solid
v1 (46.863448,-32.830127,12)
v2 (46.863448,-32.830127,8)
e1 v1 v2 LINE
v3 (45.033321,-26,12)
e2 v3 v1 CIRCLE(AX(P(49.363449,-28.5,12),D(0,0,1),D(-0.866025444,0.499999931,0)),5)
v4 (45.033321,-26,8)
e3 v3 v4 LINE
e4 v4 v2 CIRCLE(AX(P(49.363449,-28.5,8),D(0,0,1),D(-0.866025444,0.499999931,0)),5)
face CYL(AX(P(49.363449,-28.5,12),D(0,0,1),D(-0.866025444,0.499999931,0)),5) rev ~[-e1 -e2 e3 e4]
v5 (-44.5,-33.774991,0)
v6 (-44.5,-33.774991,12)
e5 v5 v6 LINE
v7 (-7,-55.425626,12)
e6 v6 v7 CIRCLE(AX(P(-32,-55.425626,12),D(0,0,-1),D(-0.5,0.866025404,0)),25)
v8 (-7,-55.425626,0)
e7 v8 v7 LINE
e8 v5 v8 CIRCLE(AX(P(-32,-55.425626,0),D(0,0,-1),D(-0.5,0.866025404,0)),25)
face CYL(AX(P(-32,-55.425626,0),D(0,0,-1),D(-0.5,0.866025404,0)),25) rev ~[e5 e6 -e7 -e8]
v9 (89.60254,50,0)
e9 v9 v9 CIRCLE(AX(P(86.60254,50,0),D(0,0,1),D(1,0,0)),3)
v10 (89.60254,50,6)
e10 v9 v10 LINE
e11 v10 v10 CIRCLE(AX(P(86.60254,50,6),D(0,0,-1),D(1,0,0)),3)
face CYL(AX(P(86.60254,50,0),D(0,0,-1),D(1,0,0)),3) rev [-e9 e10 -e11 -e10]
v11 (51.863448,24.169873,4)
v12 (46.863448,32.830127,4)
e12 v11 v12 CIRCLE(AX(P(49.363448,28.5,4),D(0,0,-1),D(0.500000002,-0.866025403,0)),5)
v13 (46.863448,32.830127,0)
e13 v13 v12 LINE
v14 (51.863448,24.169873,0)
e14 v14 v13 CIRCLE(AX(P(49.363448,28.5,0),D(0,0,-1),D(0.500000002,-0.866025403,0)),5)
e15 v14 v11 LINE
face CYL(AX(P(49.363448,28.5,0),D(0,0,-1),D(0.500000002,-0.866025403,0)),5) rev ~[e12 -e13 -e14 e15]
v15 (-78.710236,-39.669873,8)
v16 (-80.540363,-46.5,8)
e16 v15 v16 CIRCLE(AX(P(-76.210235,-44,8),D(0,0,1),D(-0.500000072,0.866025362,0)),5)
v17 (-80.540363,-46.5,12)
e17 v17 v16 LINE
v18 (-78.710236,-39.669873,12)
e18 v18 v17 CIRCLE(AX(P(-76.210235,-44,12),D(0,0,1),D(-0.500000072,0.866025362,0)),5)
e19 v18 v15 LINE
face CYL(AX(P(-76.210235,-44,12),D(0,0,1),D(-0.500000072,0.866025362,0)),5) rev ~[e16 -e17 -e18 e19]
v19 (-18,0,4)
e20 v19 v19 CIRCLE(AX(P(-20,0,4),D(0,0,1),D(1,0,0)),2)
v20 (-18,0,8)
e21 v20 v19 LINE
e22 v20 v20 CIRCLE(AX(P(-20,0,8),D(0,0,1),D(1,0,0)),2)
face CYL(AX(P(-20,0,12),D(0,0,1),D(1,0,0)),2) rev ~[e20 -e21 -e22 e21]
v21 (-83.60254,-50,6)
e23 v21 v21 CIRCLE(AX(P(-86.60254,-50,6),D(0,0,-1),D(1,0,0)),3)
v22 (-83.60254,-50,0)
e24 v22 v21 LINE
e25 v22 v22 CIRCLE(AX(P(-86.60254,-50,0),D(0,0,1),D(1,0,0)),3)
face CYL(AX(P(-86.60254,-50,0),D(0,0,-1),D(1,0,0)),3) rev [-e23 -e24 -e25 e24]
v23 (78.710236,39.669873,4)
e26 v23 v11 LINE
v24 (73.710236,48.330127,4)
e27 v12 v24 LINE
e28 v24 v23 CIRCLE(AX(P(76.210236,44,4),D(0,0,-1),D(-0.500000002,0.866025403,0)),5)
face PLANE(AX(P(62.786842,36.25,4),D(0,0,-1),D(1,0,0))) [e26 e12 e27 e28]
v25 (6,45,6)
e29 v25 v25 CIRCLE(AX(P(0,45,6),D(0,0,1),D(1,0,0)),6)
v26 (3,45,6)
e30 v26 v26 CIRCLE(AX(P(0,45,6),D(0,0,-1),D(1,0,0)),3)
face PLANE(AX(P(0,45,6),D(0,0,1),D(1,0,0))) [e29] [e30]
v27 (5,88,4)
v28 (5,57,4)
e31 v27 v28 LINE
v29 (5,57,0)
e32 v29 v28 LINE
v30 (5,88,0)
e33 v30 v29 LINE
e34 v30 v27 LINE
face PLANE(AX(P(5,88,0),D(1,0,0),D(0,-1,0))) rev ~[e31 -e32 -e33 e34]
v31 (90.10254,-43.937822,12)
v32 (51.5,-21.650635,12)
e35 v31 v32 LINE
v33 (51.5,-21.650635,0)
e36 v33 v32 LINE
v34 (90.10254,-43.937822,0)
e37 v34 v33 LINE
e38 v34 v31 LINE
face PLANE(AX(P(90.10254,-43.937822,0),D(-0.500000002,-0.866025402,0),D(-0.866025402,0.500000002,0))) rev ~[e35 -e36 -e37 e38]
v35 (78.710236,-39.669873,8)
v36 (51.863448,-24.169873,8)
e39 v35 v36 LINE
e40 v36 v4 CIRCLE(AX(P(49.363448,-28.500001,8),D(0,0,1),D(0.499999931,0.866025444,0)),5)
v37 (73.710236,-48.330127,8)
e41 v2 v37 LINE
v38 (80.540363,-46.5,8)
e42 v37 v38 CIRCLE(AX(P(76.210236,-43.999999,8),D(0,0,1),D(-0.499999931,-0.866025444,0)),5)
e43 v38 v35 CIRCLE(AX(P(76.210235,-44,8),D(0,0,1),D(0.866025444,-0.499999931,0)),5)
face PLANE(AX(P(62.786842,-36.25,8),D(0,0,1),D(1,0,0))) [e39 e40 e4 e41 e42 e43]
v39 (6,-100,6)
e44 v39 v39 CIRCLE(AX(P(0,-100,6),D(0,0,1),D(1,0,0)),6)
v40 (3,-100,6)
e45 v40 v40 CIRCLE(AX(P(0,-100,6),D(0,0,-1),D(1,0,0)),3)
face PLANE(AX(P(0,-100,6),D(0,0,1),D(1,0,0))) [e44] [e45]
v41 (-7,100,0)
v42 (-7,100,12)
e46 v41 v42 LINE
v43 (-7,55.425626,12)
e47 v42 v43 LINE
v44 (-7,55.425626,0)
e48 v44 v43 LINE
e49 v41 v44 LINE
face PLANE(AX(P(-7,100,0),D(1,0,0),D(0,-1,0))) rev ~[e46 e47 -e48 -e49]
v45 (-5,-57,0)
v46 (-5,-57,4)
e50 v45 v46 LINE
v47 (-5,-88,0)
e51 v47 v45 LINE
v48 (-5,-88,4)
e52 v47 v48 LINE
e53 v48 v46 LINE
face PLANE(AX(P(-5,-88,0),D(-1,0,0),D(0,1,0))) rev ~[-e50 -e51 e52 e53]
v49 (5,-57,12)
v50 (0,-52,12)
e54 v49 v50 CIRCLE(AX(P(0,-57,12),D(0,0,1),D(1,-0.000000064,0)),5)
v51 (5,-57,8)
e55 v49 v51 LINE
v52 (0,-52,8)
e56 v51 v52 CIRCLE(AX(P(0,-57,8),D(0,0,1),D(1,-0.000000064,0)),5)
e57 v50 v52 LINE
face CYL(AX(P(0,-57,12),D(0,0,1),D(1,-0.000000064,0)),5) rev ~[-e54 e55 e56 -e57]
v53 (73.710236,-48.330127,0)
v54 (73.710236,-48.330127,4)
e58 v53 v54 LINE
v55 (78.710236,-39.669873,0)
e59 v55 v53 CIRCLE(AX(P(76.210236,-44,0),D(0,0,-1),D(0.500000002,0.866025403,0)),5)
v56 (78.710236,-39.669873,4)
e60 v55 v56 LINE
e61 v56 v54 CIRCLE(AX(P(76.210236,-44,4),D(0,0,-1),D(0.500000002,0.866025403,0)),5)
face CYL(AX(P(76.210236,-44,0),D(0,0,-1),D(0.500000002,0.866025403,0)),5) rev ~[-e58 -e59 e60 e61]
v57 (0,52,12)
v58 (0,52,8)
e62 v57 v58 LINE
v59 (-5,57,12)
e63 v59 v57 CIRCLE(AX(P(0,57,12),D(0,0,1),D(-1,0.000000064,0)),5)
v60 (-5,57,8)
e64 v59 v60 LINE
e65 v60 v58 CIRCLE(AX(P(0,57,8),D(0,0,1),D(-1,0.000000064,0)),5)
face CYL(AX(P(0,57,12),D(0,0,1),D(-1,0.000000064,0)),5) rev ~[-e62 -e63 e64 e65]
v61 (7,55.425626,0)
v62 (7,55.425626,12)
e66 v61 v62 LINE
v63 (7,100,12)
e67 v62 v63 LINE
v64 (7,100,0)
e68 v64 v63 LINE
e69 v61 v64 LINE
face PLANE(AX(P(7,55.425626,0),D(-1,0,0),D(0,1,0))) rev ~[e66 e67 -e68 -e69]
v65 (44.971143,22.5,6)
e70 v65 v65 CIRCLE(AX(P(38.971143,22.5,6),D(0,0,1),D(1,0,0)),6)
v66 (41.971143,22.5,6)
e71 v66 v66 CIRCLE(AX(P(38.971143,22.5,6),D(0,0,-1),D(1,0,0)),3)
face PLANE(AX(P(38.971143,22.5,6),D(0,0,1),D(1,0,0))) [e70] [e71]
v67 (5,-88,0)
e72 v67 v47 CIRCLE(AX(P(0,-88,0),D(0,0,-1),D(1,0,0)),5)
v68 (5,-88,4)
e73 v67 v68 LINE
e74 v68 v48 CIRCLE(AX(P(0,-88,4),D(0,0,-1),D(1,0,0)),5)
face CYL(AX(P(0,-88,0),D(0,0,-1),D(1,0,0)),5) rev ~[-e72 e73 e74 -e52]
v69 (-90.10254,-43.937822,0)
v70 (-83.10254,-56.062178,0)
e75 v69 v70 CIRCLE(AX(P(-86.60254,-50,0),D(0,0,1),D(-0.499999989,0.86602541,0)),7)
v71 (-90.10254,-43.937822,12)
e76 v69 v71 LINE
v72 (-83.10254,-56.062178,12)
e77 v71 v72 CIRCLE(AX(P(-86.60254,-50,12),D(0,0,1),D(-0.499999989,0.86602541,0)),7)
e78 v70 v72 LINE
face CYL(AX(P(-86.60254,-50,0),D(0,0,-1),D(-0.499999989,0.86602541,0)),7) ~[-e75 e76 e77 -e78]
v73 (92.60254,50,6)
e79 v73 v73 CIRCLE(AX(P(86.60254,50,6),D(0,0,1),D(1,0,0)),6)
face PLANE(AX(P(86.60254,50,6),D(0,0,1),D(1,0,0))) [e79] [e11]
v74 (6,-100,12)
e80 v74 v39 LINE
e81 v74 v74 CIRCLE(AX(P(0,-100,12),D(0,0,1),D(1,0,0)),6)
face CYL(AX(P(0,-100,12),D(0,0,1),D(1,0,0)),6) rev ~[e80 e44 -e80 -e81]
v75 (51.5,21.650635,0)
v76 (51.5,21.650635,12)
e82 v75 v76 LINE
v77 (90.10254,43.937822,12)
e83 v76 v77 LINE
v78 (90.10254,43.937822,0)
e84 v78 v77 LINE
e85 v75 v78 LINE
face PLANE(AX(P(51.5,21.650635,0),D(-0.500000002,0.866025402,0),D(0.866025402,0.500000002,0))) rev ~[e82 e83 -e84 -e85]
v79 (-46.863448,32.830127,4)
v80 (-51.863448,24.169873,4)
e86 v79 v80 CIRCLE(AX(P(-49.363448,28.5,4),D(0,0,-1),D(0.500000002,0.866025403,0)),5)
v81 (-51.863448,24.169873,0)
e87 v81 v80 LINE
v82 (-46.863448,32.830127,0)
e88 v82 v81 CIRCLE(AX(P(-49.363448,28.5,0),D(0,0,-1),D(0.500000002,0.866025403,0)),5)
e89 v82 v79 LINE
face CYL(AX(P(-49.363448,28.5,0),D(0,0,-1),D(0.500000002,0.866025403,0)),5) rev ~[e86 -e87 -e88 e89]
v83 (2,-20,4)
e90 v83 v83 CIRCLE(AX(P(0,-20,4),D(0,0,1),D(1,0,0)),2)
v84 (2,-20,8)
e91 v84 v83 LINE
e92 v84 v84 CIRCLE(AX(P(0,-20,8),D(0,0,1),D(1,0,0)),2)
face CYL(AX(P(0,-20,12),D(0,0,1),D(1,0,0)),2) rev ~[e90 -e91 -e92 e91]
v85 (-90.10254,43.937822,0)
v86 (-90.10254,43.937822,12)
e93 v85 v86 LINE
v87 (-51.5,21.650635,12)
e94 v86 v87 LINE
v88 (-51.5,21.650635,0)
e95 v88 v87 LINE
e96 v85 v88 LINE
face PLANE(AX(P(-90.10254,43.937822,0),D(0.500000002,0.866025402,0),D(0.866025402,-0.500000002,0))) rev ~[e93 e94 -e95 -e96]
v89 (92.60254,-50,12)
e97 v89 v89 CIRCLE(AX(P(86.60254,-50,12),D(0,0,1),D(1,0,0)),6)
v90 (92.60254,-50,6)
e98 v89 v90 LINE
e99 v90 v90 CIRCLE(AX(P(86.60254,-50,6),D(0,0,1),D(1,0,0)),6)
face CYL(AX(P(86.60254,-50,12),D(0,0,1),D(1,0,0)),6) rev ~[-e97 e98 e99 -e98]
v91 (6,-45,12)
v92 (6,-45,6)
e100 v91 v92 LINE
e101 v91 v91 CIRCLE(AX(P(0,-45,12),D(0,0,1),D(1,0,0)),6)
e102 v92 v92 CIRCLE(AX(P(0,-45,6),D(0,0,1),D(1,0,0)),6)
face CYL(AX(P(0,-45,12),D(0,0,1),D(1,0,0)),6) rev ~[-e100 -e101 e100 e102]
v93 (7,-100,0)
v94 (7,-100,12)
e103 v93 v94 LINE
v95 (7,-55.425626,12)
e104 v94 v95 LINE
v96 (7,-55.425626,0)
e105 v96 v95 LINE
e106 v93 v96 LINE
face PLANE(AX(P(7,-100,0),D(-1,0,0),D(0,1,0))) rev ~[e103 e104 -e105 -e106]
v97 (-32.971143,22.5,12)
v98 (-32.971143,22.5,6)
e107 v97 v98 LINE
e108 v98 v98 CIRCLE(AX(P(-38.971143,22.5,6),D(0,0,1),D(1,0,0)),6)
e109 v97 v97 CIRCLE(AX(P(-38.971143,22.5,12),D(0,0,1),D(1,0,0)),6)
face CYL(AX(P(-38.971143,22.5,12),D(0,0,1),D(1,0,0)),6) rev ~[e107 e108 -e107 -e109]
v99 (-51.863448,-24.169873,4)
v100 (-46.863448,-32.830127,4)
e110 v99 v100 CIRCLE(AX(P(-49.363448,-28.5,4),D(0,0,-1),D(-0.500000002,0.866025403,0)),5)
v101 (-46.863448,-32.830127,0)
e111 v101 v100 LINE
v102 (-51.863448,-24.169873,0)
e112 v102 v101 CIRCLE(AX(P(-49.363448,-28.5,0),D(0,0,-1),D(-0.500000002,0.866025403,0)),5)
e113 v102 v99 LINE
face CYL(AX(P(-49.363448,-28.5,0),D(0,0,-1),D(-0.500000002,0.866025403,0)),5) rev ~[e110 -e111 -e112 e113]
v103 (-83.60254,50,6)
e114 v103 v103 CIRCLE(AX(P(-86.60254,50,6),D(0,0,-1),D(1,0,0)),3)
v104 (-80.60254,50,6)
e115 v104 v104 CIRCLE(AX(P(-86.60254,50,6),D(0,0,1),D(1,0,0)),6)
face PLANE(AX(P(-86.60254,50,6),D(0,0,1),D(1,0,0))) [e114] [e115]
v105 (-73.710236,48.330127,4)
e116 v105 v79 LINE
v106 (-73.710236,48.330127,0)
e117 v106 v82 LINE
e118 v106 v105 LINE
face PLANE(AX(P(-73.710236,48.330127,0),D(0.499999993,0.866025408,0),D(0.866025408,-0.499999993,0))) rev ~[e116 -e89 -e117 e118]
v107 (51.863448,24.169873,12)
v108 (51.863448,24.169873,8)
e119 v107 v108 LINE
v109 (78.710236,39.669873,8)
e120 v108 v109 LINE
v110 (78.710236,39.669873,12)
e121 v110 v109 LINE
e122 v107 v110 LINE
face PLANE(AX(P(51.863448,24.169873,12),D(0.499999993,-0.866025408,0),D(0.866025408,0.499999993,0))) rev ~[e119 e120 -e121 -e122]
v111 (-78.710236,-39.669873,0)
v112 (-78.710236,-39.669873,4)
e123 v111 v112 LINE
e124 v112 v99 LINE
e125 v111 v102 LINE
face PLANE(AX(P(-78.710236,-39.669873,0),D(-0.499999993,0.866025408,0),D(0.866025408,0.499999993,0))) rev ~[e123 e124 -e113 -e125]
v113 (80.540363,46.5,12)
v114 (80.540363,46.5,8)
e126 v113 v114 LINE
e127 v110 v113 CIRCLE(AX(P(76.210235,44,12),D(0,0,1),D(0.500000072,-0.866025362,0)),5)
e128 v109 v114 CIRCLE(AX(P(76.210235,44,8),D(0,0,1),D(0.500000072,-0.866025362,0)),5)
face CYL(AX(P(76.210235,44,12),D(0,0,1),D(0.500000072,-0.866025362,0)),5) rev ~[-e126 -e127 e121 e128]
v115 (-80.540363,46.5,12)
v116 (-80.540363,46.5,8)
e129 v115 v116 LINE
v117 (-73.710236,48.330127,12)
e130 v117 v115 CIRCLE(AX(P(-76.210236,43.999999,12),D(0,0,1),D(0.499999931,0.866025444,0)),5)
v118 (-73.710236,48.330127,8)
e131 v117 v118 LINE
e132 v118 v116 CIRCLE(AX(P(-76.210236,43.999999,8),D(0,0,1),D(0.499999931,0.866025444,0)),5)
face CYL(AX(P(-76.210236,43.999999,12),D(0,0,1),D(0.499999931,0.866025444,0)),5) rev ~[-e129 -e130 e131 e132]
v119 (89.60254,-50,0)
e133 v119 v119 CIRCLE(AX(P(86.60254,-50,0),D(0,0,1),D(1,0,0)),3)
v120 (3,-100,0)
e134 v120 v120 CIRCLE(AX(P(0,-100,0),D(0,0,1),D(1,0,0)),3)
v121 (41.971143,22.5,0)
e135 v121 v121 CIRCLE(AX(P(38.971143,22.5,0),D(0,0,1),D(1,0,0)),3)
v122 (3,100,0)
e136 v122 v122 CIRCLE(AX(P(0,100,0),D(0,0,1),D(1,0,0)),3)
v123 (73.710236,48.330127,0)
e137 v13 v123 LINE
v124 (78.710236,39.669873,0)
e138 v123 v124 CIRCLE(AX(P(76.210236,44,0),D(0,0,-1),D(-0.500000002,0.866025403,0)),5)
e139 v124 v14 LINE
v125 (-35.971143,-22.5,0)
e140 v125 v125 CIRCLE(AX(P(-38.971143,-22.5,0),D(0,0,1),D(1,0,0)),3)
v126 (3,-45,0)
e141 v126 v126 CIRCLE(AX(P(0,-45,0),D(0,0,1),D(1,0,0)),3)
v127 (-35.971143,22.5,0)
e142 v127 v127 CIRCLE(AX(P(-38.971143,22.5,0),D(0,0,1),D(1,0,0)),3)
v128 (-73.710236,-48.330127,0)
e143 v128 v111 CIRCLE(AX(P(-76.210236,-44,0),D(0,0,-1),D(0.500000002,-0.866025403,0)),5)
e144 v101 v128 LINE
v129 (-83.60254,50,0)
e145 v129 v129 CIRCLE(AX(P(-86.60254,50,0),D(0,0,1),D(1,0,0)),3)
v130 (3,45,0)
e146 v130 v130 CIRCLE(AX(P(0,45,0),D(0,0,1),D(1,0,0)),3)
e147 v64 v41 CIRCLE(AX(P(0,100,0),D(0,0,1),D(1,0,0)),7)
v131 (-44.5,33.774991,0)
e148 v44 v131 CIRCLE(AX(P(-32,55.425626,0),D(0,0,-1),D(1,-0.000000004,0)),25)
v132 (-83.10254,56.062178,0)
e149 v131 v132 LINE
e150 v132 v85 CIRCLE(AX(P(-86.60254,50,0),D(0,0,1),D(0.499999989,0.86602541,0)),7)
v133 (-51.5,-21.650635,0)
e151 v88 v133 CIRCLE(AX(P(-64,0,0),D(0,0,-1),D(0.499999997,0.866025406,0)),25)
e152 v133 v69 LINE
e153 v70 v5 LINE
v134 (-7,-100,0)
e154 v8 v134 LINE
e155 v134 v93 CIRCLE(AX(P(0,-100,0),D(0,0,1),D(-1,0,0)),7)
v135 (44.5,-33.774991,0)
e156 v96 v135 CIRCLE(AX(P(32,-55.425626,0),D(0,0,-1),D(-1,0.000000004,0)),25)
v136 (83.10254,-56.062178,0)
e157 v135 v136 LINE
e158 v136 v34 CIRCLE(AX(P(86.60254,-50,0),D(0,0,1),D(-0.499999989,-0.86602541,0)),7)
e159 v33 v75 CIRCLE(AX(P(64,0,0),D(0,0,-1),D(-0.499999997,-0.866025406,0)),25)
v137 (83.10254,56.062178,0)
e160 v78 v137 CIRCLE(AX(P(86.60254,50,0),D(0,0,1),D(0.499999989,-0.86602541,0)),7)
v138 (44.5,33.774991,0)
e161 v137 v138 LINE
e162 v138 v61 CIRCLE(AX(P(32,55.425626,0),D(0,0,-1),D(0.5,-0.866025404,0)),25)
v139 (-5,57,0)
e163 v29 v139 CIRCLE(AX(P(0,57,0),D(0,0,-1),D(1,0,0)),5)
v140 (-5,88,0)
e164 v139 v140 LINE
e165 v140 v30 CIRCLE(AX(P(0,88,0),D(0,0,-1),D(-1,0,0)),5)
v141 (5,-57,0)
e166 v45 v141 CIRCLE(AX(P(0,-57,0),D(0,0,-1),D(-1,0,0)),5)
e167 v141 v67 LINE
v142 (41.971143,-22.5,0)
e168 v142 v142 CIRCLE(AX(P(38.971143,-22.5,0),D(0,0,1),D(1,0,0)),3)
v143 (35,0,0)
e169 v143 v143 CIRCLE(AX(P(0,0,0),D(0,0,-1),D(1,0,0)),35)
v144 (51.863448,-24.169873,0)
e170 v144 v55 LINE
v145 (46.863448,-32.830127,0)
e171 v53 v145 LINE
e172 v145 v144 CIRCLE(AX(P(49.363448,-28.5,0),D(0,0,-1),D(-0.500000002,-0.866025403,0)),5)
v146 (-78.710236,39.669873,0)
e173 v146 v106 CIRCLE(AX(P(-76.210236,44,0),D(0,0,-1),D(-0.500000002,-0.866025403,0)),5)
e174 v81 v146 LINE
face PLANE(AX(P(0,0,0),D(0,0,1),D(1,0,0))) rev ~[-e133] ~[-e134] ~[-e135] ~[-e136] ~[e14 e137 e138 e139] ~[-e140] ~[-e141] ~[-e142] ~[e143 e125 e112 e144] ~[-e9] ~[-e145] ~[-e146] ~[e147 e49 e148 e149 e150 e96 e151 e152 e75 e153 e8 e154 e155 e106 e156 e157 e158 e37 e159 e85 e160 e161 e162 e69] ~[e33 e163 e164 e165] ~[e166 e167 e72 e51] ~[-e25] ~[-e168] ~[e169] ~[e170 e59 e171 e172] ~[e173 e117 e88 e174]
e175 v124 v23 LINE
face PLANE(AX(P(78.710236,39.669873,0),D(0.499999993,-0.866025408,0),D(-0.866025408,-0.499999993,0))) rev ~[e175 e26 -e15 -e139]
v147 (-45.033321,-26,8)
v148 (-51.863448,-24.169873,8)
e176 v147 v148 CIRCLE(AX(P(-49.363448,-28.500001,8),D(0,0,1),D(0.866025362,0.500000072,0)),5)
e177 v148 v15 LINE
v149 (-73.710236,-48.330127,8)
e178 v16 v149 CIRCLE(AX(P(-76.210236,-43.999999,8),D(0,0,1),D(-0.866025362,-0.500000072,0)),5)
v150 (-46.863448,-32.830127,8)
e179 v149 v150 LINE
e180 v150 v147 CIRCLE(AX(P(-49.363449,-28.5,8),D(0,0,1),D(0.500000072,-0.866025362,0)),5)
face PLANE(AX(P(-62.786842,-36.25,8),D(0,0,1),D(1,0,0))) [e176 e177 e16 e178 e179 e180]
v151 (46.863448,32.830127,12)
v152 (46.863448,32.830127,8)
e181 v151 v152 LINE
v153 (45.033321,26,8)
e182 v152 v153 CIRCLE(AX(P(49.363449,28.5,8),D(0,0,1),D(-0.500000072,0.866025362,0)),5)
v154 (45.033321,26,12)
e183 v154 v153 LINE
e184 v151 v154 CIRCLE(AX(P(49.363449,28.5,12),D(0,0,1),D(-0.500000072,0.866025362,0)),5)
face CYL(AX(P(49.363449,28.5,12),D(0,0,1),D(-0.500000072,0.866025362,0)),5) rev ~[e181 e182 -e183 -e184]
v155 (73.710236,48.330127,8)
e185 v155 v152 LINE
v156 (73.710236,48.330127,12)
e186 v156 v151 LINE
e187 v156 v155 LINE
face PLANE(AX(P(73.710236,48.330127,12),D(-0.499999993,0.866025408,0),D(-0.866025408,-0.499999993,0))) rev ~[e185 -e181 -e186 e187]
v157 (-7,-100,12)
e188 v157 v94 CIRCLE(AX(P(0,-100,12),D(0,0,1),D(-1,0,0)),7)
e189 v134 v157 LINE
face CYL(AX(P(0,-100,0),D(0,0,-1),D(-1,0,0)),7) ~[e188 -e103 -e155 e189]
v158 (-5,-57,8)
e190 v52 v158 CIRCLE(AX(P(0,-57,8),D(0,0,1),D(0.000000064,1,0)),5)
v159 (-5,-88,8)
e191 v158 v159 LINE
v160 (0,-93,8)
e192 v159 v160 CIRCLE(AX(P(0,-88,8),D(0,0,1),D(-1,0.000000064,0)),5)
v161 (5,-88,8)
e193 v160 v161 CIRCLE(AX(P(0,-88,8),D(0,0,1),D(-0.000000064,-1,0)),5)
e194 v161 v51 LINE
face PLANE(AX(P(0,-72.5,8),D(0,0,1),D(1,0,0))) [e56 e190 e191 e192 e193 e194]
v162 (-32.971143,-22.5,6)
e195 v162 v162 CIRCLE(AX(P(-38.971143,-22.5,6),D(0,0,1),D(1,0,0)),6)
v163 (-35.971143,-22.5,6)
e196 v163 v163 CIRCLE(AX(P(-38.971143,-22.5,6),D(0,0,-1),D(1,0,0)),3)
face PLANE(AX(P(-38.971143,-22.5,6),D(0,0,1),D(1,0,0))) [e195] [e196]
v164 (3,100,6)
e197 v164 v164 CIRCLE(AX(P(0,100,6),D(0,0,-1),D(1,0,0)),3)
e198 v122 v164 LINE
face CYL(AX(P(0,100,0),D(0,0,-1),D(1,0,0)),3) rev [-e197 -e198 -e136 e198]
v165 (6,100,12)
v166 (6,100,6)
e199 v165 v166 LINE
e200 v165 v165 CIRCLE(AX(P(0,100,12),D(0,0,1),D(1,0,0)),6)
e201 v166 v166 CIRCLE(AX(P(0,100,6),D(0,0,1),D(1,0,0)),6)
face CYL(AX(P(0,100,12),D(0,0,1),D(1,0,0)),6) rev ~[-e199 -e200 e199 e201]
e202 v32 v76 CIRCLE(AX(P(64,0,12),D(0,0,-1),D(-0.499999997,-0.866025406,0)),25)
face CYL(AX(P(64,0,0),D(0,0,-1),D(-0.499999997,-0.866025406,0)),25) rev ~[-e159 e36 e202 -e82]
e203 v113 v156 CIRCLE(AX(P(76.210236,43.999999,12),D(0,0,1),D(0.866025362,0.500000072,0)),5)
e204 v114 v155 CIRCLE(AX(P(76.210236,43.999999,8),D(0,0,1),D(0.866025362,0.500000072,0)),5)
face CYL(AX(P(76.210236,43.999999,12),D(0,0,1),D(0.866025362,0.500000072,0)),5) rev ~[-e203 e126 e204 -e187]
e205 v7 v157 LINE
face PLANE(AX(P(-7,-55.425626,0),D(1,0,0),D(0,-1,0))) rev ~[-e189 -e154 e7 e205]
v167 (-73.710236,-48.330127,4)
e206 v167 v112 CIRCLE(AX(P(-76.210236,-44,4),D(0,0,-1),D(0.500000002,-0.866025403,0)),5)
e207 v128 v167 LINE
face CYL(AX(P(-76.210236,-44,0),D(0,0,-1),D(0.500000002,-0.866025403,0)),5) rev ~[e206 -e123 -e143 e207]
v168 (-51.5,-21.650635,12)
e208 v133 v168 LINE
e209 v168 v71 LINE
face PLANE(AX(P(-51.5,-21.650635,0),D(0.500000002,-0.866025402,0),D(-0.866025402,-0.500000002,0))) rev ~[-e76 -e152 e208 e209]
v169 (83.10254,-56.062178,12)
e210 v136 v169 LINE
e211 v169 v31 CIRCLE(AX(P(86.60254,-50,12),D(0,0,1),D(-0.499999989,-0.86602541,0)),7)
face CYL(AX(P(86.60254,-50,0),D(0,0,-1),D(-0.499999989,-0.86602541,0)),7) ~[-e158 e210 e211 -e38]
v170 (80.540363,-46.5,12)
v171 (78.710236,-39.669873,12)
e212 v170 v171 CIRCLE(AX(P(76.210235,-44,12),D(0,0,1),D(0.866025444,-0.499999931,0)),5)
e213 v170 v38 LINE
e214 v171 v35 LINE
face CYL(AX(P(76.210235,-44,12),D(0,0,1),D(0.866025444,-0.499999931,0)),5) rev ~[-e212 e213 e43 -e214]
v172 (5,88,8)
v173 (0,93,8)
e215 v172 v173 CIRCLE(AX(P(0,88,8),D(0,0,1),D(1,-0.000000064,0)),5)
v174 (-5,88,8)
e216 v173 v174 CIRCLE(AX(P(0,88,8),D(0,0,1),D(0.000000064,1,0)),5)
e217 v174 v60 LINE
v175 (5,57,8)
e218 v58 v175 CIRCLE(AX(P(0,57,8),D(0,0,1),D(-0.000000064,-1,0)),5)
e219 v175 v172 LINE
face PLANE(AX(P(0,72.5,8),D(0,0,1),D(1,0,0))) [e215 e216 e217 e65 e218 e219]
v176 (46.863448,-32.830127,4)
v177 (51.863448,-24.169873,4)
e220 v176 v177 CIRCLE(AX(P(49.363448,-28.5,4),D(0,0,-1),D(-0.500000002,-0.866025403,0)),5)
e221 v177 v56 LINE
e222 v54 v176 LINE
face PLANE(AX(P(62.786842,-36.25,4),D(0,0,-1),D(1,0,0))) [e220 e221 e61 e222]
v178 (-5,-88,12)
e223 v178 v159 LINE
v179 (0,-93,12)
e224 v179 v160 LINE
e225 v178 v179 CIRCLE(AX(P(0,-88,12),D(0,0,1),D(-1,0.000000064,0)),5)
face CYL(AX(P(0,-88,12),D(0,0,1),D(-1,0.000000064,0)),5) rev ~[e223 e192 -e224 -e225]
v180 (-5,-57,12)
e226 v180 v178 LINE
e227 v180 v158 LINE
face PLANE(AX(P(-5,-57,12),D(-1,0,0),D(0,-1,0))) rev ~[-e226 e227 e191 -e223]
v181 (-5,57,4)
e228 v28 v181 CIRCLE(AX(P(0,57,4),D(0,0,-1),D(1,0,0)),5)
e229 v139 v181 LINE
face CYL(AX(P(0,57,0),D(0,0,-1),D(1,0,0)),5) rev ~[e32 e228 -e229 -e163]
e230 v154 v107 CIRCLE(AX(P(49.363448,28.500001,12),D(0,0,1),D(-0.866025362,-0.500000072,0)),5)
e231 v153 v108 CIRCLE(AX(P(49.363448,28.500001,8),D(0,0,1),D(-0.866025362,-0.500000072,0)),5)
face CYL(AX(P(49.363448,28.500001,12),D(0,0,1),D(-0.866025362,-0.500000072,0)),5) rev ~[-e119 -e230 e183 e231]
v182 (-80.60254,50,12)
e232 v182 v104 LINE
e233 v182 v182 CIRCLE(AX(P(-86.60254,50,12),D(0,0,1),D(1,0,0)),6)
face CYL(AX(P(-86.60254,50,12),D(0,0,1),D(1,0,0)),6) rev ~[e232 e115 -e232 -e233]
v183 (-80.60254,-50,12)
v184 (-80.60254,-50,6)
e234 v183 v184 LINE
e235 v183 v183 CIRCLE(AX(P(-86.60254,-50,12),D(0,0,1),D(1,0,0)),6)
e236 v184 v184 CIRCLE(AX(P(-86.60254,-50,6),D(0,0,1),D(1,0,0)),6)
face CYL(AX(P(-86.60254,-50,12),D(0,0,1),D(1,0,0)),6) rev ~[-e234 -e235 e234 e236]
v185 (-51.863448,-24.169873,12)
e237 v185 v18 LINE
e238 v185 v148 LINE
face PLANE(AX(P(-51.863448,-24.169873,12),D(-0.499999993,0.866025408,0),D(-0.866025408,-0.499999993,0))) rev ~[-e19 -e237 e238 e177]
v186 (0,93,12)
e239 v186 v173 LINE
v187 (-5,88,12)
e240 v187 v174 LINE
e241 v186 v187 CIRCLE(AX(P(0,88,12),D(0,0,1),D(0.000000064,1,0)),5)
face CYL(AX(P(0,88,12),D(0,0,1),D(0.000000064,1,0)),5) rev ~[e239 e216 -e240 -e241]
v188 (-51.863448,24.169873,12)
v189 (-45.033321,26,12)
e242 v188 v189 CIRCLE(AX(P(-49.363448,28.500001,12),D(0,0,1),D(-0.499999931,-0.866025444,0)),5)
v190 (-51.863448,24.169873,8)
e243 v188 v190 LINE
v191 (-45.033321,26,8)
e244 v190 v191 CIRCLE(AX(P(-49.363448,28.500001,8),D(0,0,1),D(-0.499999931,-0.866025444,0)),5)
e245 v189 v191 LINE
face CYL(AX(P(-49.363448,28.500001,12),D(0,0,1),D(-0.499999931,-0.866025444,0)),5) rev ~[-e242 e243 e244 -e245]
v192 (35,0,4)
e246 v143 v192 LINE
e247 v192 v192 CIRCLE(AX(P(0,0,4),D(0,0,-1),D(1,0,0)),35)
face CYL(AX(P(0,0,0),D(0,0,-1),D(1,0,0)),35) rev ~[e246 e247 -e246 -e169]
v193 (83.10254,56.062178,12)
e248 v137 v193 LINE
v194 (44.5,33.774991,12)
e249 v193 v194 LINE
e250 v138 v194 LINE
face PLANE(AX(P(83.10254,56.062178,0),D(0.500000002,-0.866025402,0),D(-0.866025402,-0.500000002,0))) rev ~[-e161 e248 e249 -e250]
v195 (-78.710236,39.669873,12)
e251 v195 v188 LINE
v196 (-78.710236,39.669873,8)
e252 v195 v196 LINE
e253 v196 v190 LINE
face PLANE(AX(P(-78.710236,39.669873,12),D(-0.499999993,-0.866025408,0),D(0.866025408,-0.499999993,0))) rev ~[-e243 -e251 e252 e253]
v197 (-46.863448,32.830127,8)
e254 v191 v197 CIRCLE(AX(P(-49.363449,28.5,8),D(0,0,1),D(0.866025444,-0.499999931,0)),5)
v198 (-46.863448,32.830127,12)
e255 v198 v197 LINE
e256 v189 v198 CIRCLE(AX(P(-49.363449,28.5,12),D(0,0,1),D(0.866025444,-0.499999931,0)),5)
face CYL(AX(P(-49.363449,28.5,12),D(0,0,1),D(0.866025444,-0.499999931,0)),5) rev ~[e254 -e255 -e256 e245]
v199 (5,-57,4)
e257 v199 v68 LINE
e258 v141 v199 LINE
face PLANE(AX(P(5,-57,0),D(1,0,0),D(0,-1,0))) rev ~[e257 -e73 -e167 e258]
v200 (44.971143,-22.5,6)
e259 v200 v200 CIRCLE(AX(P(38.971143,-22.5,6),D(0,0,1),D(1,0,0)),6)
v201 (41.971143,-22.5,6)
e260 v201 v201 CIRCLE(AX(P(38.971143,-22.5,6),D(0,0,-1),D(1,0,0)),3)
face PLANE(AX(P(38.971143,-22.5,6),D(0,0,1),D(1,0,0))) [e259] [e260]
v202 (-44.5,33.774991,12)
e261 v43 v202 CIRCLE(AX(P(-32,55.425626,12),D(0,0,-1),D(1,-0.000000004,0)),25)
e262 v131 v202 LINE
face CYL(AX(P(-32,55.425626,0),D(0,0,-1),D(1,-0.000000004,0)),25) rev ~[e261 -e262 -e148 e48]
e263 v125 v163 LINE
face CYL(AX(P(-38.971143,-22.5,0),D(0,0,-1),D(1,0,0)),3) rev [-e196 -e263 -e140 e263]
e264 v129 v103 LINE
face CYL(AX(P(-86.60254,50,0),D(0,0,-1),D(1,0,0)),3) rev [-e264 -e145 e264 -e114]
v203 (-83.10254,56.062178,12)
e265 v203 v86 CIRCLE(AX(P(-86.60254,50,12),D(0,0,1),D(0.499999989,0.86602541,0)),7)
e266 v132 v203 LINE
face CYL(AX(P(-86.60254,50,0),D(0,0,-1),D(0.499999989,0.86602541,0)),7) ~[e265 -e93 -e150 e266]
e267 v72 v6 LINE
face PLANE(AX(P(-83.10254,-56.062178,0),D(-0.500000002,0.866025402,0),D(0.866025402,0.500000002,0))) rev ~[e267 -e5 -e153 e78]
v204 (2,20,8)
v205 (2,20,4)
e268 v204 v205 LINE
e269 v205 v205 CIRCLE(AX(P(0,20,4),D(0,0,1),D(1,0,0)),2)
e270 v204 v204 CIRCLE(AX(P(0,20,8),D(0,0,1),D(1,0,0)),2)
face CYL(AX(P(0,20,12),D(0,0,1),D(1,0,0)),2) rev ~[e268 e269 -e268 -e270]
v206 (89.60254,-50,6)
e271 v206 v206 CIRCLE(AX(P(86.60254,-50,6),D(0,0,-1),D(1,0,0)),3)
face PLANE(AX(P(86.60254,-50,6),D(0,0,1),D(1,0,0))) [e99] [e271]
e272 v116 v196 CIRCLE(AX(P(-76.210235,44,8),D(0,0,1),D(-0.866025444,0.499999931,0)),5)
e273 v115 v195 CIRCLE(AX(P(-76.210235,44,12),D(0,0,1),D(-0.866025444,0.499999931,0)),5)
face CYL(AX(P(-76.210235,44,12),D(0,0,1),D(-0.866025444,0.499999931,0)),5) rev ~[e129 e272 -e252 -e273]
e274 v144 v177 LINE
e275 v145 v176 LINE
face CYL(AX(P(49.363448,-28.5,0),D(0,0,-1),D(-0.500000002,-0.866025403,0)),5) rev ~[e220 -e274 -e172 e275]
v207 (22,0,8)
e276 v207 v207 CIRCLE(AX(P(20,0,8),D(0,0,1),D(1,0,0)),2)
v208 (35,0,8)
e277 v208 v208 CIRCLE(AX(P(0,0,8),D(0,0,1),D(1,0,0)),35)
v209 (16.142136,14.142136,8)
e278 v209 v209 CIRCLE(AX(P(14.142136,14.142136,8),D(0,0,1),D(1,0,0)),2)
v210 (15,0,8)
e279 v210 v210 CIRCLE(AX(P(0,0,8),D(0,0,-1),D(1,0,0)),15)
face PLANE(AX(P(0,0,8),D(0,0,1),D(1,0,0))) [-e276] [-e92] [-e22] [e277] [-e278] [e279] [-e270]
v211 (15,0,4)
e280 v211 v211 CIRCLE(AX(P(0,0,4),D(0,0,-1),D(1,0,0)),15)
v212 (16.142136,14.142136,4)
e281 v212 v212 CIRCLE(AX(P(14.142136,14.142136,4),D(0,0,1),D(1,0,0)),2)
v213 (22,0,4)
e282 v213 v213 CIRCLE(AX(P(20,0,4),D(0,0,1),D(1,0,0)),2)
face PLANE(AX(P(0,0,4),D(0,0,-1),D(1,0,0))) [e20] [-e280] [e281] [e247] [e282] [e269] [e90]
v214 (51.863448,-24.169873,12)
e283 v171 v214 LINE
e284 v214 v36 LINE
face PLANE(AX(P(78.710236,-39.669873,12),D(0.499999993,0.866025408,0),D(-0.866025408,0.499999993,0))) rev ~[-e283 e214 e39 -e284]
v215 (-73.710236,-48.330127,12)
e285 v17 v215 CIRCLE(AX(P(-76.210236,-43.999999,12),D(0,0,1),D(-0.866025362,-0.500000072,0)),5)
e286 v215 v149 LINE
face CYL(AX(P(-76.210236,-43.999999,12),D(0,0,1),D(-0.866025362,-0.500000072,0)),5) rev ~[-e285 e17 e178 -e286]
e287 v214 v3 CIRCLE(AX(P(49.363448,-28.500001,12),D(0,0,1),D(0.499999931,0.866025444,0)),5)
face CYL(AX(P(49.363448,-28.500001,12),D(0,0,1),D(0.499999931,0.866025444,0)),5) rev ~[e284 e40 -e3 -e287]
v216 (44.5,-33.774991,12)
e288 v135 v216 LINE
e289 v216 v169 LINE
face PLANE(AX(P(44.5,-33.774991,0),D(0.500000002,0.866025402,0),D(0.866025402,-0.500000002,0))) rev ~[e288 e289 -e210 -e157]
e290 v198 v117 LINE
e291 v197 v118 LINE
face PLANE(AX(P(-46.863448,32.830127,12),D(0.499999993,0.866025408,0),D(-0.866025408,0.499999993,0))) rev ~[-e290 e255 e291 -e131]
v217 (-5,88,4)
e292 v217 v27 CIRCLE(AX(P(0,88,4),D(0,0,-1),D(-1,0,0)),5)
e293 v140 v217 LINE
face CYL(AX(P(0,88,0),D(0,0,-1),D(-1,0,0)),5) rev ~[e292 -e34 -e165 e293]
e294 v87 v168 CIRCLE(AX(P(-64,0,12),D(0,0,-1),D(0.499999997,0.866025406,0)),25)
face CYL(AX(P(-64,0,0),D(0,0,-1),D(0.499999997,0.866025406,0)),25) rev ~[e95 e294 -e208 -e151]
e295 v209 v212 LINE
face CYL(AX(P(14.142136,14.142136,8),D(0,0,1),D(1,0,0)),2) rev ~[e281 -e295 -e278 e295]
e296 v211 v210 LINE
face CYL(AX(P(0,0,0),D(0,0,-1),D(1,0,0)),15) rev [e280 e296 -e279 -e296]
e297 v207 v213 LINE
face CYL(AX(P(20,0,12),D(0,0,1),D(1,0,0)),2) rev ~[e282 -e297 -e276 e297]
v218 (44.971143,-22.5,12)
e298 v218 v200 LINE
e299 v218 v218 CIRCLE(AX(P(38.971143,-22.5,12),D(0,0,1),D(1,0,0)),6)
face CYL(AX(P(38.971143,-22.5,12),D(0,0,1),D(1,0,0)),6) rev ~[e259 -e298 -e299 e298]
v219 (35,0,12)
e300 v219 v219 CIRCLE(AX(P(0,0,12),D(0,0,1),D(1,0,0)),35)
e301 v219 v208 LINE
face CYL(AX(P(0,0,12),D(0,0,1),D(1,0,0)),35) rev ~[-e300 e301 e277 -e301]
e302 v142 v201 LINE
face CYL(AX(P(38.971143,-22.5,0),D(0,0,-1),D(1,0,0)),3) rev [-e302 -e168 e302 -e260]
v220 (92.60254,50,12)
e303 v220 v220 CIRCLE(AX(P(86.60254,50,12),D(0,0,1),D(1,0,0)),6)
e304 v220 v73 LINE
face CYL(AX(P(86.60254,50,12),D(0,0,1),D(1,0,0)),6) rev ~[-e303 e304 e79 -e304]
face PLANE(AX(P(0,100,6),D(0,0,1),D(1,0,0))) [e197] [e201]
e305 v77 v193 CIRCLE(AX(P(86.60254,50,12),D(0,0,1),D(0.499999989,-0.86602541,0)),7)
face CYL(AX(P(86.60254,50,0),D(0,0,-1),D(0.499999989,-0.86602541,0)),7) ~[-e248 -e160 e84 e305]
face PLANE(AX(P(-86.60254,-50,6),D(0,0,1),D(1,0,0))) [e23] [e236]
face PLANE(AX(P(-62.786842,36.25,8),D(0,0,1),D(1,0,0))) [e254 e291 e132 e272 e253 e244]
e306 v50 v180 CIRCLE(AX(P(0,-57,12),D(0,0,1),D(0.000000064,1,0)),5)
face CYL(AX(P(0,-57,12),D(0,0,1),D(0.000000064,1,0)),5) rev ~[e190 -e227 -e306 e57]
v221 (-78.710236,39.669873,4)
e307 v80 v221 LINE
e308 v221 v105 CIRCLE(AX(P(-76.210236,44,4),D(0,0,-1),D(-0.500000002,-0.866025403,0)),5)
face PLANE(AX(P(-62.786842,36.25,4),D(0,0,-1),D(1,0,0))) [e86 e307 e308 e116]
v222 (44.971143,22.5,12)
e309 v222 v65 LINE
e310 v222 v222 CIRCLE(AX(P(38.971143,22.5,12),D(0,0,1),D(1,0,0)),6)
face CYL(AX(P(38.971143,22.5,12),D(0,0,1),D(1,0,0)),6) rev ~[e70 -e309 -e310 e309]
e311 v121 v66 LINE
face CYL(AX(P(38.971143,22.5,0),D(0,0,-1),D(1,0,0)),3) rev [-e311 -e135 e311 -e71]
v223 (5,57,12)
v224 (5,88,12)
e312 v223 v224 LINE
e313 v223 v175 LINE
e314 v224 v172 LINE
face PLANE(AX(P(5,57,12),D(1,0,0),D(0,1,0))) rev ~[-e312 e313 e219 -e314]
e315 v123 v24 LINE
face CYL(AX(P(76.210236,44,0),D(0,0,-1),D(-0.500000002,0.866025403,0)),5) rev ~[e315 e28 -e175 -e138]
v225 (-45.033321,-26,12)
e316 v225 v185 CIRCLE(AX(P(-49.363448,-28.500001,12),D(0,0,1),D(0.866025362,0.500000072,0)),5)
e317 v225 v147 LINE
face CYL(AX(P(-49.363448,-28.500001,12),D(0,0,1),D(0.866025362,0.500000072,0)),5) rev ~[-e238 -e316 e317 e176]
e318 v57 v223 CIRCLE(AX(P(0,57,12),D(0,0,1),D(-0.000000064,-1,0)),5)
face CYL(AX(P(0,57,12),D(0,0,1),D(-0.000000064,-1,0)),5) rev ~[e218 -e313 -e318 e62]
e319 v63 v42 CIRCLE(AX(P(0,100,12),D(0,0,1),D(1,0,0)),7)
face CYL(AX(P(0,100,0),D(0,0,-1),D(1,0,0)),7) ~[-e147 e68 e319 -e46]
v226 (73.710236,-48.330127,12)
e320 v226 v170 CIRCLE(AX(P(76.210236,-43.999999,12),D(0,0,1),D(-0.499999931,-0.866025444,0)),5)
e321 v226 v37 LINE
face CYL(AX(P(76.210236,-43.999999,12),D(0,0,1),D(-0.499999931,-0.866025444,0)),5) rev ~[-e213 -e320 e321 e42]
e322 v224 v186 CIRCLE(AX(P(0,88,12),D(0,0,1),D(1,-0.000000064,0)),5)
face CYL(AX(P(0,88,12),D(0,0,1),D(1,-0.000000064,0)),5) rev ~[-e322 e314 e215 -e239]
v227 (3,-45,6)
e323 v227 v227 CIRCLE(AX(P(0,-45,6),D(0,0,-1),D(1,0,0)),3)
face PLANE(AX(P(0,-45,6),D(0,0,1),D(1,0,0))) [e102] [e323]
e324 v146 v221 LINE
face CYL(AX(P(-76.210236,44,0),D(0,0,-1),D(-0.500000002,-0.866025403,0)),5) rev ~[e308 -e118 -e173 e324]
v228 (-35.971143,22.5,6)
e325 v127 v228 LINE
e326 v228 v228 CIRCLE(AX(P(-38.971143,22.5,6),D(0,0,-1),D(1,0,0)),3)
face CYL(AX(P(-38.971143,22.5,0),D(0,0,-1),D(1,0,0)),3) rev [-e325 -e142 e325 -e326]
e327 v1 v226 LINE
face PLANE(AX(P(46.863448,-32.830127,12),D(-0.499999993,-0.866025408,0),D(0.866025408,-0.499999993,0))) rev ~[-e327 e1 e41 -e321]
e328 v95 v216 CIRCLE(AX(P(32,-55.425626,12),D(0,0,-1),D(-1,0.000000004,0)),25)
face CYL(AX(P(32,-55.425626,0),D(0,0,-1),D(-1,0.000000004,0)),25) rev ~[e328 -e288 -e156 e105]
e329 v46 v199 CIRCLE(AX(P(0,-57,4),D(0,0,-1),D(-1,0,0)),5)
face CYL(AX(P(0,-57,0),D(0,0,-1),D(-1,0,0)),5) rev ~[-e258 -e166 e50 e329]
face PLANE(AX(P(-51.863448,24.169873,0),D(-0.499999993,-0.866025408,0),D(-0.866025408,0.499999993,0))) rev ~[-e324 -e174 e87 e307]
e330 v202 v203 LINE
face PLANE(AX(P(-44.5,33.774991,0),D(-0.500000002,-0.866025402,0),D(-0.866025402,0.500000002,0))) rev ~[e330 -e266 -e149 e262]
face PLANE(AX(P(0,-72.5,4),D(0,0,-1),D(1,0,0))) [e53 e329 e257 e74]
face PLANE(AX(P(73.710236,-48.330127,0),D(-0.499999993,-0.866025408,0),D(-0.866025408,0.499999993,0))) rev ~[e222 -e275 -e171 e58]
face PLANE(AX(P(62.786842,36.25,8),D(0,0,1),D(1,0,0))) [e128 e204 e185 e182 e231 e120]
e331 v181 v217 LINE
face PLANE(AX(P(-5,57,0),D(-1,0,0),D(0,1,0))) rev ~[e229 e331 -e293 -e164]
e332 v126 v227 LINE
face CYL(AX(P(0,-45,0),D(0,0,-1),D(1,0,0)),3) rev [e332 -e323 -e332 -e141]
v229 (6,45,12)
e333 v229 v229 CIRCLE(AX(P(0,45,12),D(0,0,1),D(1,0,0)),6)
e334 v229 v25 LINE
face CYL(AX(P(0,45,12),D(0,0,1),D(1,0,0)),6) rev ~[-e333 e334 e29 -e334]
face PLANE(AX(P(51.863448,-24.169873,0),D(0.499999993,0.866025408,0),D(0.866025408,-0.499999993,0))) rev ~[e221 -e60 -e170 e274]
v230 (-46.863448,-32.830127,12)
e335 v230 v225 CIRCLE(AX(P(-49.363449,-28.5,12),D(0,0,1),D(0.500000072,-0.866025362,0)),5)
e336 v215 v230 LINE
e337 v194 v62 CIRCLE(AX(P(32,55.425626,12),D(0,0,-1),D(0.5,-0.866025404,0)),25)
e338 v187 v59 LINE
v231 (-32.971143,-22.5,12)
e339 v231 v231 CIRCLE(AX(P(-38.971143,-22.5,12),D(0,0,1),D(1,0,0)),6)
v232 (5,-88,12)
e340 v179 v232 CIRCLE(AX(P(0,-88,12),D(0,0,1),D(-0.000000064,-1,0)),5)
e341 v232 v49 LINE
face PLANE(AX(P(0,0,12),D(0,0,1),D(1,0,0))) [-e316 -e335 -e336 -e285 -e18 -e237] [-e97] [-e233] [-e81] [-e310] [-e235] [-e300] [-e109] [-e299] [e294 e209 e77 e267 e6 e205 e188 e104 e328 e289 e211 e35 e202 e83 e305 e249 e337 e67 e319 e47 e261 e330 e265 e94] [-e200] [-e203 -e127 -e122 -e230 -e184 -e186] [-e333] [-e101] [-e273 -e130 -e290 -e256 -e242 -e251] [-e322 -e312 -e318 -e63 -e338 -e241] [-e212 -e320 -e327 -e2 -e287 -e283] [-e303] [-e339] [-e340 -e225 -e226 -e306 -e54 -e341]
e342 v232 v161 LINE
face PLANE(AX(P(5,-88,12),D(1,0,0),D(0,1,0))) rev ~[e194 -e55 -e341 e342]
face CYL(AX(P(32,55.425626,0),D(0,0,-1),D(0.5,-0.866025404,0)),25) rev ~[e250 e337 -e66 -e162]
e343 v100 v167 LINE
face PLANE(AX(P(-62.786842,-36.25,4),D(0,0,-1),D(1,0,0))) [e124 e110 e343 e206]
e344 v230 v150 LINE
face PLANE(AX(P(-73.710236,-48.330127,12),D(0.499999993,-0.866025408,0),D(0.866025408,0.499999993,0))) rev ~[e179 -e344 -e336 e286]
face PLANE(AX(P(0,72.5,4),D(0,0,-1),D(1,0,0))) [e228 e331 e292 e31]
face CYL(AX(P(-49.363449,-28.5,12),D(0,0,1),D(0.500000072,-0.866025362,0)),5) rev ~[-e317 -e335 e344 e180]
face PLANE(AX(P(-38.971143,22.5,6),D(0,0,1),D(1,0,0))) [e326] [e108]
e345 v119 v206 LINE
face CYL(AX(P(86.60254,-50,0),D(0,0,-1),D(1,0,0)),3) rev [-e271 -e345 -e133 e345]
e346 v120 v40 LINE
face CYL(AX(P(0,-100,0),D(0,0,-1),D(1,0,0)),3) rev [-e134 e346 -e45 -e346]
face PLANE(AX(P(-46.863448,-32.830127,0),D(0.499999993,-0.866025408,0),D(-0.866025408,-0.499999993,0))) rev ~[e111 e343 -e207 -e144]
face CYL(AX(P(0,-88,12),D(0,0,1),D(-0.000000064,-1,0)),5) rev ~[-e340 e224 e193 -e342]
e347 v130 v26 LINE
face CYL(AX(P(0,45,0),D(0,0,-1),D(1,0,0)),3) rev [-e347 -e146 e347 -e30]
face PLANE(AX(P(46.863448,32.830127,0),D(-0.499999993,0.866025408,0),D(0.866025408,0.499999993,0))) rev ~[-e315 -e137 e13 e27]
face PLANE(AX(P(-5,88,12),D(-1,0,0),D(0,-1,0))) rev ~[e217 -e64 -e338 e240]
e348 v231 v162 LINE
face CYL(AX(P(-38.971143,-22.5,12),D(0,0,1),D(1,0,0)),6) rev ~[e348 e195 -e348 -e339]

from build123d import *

# Parameters (mm, degrees)
F0_R      = 3
F0_R_2    = 15
F1_DEPTH  = 12
F2_R      = 6
F3_DEPTH  = 6
F4_R      = 2
F5_DEPTH  = 12.001
F6_R      = 35
F7_DEPTH  = 4
F8_R      = 35
F9_DEPTH  = 4
F10_R     = 2
F11_DEPTH = 25


with BuildPart() as f1:
    # F0 (on Top) → F1 (new body)
    with BuildSketch(Plane.XY):
        with BuildLine():
            Line((7, 55.425626), (7, 100))
            ThreePointArc((7, 100), (0, 107), (-7, 100))
            Line((-7, 100), (-7, 55.425626))
            ThreePointArc((-7, 55.425626), (-19.5, 33.774991), (-44.5, 33.774991))
            Line((-44.5, 33.774991), (-83.10254, 56.062178))
            ThreePointArc((-83.10254, 56.062178), (-92.664718, 53.5), (-90.10254, 43.937822))
            Line((-90.10254, 43.937822), (-51.5, 21.650635))
            ThreePointArc((-51.5, 21.650635), (-39, 0), (-51.5, -21.650635))
            Line((-51.5, -21.650635), (-90.10254, -43.937822))
            ThreePointArc((-90.10254, -43.937822), (-92.664718, -53.5), (-83.10254, -56.062178))
            Line((-83.10254, -56.062178), (-44.5, -33.774991))
            ThreePointArc((-44.5, -33.774991), (-19.5, -33.774991), (-7, -55.425626))
            Line((-7, -55.425626), (-7, -100))
            ThreePointArc((-7, -100), (0, -107), (7, -100))
            Line((7, -100), (7, -55.425626))
            ThreePointArc((7, -55.425626), (19.5, -33.774991), (44.5, -33.774991))
            Line((44.5, -33.774991), (83.10254, -56.062178))
            ThreePointArc((83.10254, -56.062178), (92.664718, -53.5), (90.10254, -43.937822))
            Line((90.10254, -43.937822), (51.5, -21.650635))
            ThreePointArc((51.5, -21.650635), (39, 0), (51.5, 21.650635))
            Line((51.5, 21.650635), (90.10254, 43.937822))
            ThreePointArc((90.10254, 43.937822), (92.664718, 53.5), (83.10254, 56.062178))
            Line((83.10254, 56.062178), (44.5, 33.774991))
            ThreePointArc((44.5, 33.774991), (19.5, 33.774991), (7, 55.425626))
        make_face()
        with Locations((-86.60254, -50)):
            Circle(F0_R, mode=Mode.SUBTRACT)
        with Locations((-38.971143, -22.5)):
            Circle(F0_R, mode=Mode.SUBTRACT)
        with Locations((0, -100)):
            Circle(F0_R, mode=Mode.SUBTRACT)
        with Locations((0, -45)):
            Circle(F0_R, mode=Mode.SUBTRACT)
        Circle(F0_R_2, mode=Mode.SUBTRACT)
        with Locations((38.971143, -22.5)):
            Circle(F0_R, mode=Mode.SUBTRACT)
        with Locations((86.60254, -50)):
            Circle(F0_R, mode=Mode.SUBTRACT)
        with Locations((-86.60254, 50)):
            Circle(F0_R, mode=Mode.SUBTRACT)
        with Locations((-38.971143, 22.5)):
            Circle(F0_R, mode=Mode.SUBTRACT)
        with Locations((38.971143, 22.5)):
            Circle(F0_R, mode=Mode.SUBTRACT)
        with Locations((0, 45)):
            Circle(F0_R, mode=Mode.SUBTRACT)
        with Locations((86.60254, 50)):
            Circle(F0_R, mode=Mode.SUBTRACT)
        with Locations((0, 100)):
            Circle(F0_R, mode=Mode.SUBTRACT)
    extrude(amount=F1_DEPTH)

    # F2 (on face) → F3 (cut)
    with BuildSketch(Plane.XY.offset(12)):
        with Locations((-86.60254, 50)):
            Circle(F2_R)
        with Locations((0, 100)):
            Circle(F2_R)
        with Locations((86.60254, 50)):
            Circle(F2_R)
        with Locations((86.60254, -50)):
            Circle(F2_R)
        with Locations((0, -100)):
            Circle(F2_R)
        with Locations((-86.60254, -50)):
            Circle(F2_R)
        with Locations((-38.971143, 22.5)):
            Circle(F2_R)
        with Locations((0, 45)):
            Circle(F2_R)
        with Locations((38.971143, 22.5)):
            Circle(F2_R)
        with Locations((38.971143, -22.5)):
            Circle(F2_R)
        with Locations((0, -45)):
            Circle(F2_R)
        with Locations((-38.971143, -22.5)):
            Circle(F2_R)
    extrude(amount=-F3_DEPTH, mode=Mode.SUBTRACT)

    # F4 (on face) → F5 (cut, through all)
    with BuildSketch(Plane.XY.offset(12)):
        with Locations((0, 20)):
            Circle(F4_R)
        with Locations((-20, 0)):
            Circle(F4_R)
        with Locations((0, -20)):
            Circle(F4_R)
        with Locations((20, 0)):
            Circle(F4_R)
    extrude(amount=-F5_DEPTH, mode=Mode.SUBTRACT)

    # F6 (on face) → F7 (cut)
    with BuildSketch(Plane.XY.offset(12)):
        Circle(F6_R)
        with BuildLine():
            ThreePointArc((0, 93), (-3.535534, 91.535534), (-5, 88))
            Line((-5, 88), (-5, 57))
            ThreePointArc((-5, 57), (-3.535534, 53.464466), (0, 52))
            ThreePointArc((0, 52), (3.535534, 53.464466), (5, 57))
            Line((5, 57), (5, 88))
            ThreePointArc((5, 88), (3.535534, 91.535534), (0, 93))
        make_face()
        with BuildLine():
            Line((-46.863448, 32.830127), (-73.710236, 48.330127))
            ThreePointArc((-73.710236, 48.330127), (-77.504331, 48.829629), (-80.540363, 46.5))
            ThreePointArc((-80.540363, 46.5), (-81.039865, 42.705905), (-78.710236, 39.669873))
            Line((-78.710236, 39.669873), (-51.863448, 24.169873))
            ThreePointArc((-51.863448, 24.169873), (-48.069353, 23.670371), (-45.033321, 26))
            ThreePointArc((-45.033321, 26), (-44.533819, 29.794095), (-46.863448, 32.830127))
        make_face()
        with BuildLine():
            Line((-51.863448, -24.169873), (-78.710236, -39.669873))
            ThreePointArc((-78.710236, -39.669873), (-81.039865, -42.705905), (-80.540363, -46.5))
            ThreePointArc((-80.540363, -46.5), (-77.504331, -48.829629), (-73.710236, -48.330127))
            Line((-73.710236, -48.330127), (-46.863448, -32.830127))
            ThreePointArc((-46.863448, -32.830127), (-44.533819, -29.794095), (-45.033321, -26))
            ThreePointArc((-45.033321, -26), (-48.069353, -23.670371), (-51.863448, -24.169873))
        make_face()
        with BuildLine():
            Line((-5, -57), (-5, -88))
            ThreePointArc((-5, -88), (-3.535534, -91.535534), (0, -93))
            ThreePointArc((0, -93), (3.535534, -91.535534), (5, -88))
            Line((5, -88), (5, -57))
            ThreePointArc((5, -57), (3.535534, -53.464466), (0, -52))
            ThreePointArc((0, -52), (-3.535534, -53.464466), (-5, -57))
        make_face()
        with BuildLine():
            Line((46.863448, -32.830127), (73.710236, -48.330127))
            ThreePointArc((73.710236, -48.330127), (77.504331, -48.829629), (80.540363, -46.5))
            ThreePointArc((80.540363, -46.5), (81.039865, -42.705905), (78.710236, -39.669873))
            Line((78.710236, -39.669873), (51.863448, -24.169873))
            ThreePointArc((51.863448, -24.169873), (48.069353, -23.670371), (45.033321, -26))
            ThreePointArc((45.033321, -26), (44.533819, -29.794095), (46.863448, -32.830127))
        make_face()
        with BuildLine():
            Line((51.863448, 24.169873), (78.710236, 39.669873))
            ThreePointArc((78.710236, 39.669873), (81.039865, 42.705905), (80.540363, 46.5))
            ThreePointArc((80.540363, 46.5), (77.504331, 48.829629), (73.710236, 48.330127))
            Line((73.710236, 48.330127), (46.863448, 32.830127))
            ThreePointArc((46.863448, 32.830127), (44.533819, 29.794095), (45.033321, 26))
            ThreePointArc((45.033321, 26), (48.069353, 23.670371), (51.863448, 24.169873))
        make_face()
    extrude(amount=-F7_DEPTH, mode=Mode.SUBTRACT)

    # F8 (on face) → F9 (cut)
    with BuildSketch(Plane(origin=(0, 0, 0), x_dir=(1, 0, 0), z_dir=(0, 0, -1))):
        Circle(F8_R)
        with BuildLine():
            ThreePointArc((-73.710236, 48.330127), (-80.540363, 46.5), (-78.710236, 39.669873))
            Line((-78.710236, 39.669873), (-51.863448, 24.169873))
            ThreePointArc((-51.863448, 24.169873), (-45.033321, 26), (-46.863448, 32.830127))
            Line((-46.863448, 32.830127), (-73.710236, 48.330127))
        make_face()
        with BuildLine():
            ThreePointArc((-78.710236, -39.669873), (-80.540363, -46.5), (-73.710236, -48.330127))
            Line((-73.710236, -48.330127), (-46.863448, -32.830127))
            ThreePointArc((-46.863448, -32.830127), (-45.033321, -26), (-51.863448, -24.169873))
            Line((-51.863448, -24.169873), (-78.710236, -39.669873))
        make_face()
        with BuildLine():
            ThreePointArc((5, -57), (0, -52), (-5, -57))
            Line((-5, -57), (-5, -88))
            ThreePointArc((-5, -88), (0, -93), (5, -88))
            Line((5, -88), (5, -57))
        make_face()
        with BuildLine():
            ThreePointArc((73.710236, -48.330127), (80.540363, -46.5), (78.710236, -39.669873))
            Line((78.710236, -39.669873), (51.863448, -24.169873))
            ThreePointArc((51.863448, -24.169873), (45.033321, -26), (46.863448, -32.830127))
            Line((46.863448, -32.830127), (73.710236, -48.330127))
        make_face()
        with BuildLine():
            ThreePointArc((78.710236, 39.669873), (80.540363, 46.5), (73.710236, 48.330127))
            Line((73.710236, 48.330127), (46.863448, 32.830127))
            ThreePointArc((46.863448, 32.830127), (45.033321, 26), (51.863448, 24.169873))
            Line((51.863448, 24.169873), (78.710236, 39.669873))
        make_face()
        with BuildLine():
            ThreePointArc((5, 88), (0, 93), (-5, 88))
            Line((-5, 88), (-5, 57))
            ThreePointArc((-5, 57), (0, 52), (5, 57))
            Line((5, 57), (5, 88))
        make_face()
    extrude(amount=-F9_DEPTH, mode=Mode.SUBTRACT)

    # F10 (on face) → F11 (cut)
    with BuildSketch(Plane.XY.offset(8)):
        with Locations((14.142136, 14.142136)):
            Circle(F10_R)
    extrude(amount=-F11_DEPTH, mode=Mode.SUBTRACT)


solid = f1.part
